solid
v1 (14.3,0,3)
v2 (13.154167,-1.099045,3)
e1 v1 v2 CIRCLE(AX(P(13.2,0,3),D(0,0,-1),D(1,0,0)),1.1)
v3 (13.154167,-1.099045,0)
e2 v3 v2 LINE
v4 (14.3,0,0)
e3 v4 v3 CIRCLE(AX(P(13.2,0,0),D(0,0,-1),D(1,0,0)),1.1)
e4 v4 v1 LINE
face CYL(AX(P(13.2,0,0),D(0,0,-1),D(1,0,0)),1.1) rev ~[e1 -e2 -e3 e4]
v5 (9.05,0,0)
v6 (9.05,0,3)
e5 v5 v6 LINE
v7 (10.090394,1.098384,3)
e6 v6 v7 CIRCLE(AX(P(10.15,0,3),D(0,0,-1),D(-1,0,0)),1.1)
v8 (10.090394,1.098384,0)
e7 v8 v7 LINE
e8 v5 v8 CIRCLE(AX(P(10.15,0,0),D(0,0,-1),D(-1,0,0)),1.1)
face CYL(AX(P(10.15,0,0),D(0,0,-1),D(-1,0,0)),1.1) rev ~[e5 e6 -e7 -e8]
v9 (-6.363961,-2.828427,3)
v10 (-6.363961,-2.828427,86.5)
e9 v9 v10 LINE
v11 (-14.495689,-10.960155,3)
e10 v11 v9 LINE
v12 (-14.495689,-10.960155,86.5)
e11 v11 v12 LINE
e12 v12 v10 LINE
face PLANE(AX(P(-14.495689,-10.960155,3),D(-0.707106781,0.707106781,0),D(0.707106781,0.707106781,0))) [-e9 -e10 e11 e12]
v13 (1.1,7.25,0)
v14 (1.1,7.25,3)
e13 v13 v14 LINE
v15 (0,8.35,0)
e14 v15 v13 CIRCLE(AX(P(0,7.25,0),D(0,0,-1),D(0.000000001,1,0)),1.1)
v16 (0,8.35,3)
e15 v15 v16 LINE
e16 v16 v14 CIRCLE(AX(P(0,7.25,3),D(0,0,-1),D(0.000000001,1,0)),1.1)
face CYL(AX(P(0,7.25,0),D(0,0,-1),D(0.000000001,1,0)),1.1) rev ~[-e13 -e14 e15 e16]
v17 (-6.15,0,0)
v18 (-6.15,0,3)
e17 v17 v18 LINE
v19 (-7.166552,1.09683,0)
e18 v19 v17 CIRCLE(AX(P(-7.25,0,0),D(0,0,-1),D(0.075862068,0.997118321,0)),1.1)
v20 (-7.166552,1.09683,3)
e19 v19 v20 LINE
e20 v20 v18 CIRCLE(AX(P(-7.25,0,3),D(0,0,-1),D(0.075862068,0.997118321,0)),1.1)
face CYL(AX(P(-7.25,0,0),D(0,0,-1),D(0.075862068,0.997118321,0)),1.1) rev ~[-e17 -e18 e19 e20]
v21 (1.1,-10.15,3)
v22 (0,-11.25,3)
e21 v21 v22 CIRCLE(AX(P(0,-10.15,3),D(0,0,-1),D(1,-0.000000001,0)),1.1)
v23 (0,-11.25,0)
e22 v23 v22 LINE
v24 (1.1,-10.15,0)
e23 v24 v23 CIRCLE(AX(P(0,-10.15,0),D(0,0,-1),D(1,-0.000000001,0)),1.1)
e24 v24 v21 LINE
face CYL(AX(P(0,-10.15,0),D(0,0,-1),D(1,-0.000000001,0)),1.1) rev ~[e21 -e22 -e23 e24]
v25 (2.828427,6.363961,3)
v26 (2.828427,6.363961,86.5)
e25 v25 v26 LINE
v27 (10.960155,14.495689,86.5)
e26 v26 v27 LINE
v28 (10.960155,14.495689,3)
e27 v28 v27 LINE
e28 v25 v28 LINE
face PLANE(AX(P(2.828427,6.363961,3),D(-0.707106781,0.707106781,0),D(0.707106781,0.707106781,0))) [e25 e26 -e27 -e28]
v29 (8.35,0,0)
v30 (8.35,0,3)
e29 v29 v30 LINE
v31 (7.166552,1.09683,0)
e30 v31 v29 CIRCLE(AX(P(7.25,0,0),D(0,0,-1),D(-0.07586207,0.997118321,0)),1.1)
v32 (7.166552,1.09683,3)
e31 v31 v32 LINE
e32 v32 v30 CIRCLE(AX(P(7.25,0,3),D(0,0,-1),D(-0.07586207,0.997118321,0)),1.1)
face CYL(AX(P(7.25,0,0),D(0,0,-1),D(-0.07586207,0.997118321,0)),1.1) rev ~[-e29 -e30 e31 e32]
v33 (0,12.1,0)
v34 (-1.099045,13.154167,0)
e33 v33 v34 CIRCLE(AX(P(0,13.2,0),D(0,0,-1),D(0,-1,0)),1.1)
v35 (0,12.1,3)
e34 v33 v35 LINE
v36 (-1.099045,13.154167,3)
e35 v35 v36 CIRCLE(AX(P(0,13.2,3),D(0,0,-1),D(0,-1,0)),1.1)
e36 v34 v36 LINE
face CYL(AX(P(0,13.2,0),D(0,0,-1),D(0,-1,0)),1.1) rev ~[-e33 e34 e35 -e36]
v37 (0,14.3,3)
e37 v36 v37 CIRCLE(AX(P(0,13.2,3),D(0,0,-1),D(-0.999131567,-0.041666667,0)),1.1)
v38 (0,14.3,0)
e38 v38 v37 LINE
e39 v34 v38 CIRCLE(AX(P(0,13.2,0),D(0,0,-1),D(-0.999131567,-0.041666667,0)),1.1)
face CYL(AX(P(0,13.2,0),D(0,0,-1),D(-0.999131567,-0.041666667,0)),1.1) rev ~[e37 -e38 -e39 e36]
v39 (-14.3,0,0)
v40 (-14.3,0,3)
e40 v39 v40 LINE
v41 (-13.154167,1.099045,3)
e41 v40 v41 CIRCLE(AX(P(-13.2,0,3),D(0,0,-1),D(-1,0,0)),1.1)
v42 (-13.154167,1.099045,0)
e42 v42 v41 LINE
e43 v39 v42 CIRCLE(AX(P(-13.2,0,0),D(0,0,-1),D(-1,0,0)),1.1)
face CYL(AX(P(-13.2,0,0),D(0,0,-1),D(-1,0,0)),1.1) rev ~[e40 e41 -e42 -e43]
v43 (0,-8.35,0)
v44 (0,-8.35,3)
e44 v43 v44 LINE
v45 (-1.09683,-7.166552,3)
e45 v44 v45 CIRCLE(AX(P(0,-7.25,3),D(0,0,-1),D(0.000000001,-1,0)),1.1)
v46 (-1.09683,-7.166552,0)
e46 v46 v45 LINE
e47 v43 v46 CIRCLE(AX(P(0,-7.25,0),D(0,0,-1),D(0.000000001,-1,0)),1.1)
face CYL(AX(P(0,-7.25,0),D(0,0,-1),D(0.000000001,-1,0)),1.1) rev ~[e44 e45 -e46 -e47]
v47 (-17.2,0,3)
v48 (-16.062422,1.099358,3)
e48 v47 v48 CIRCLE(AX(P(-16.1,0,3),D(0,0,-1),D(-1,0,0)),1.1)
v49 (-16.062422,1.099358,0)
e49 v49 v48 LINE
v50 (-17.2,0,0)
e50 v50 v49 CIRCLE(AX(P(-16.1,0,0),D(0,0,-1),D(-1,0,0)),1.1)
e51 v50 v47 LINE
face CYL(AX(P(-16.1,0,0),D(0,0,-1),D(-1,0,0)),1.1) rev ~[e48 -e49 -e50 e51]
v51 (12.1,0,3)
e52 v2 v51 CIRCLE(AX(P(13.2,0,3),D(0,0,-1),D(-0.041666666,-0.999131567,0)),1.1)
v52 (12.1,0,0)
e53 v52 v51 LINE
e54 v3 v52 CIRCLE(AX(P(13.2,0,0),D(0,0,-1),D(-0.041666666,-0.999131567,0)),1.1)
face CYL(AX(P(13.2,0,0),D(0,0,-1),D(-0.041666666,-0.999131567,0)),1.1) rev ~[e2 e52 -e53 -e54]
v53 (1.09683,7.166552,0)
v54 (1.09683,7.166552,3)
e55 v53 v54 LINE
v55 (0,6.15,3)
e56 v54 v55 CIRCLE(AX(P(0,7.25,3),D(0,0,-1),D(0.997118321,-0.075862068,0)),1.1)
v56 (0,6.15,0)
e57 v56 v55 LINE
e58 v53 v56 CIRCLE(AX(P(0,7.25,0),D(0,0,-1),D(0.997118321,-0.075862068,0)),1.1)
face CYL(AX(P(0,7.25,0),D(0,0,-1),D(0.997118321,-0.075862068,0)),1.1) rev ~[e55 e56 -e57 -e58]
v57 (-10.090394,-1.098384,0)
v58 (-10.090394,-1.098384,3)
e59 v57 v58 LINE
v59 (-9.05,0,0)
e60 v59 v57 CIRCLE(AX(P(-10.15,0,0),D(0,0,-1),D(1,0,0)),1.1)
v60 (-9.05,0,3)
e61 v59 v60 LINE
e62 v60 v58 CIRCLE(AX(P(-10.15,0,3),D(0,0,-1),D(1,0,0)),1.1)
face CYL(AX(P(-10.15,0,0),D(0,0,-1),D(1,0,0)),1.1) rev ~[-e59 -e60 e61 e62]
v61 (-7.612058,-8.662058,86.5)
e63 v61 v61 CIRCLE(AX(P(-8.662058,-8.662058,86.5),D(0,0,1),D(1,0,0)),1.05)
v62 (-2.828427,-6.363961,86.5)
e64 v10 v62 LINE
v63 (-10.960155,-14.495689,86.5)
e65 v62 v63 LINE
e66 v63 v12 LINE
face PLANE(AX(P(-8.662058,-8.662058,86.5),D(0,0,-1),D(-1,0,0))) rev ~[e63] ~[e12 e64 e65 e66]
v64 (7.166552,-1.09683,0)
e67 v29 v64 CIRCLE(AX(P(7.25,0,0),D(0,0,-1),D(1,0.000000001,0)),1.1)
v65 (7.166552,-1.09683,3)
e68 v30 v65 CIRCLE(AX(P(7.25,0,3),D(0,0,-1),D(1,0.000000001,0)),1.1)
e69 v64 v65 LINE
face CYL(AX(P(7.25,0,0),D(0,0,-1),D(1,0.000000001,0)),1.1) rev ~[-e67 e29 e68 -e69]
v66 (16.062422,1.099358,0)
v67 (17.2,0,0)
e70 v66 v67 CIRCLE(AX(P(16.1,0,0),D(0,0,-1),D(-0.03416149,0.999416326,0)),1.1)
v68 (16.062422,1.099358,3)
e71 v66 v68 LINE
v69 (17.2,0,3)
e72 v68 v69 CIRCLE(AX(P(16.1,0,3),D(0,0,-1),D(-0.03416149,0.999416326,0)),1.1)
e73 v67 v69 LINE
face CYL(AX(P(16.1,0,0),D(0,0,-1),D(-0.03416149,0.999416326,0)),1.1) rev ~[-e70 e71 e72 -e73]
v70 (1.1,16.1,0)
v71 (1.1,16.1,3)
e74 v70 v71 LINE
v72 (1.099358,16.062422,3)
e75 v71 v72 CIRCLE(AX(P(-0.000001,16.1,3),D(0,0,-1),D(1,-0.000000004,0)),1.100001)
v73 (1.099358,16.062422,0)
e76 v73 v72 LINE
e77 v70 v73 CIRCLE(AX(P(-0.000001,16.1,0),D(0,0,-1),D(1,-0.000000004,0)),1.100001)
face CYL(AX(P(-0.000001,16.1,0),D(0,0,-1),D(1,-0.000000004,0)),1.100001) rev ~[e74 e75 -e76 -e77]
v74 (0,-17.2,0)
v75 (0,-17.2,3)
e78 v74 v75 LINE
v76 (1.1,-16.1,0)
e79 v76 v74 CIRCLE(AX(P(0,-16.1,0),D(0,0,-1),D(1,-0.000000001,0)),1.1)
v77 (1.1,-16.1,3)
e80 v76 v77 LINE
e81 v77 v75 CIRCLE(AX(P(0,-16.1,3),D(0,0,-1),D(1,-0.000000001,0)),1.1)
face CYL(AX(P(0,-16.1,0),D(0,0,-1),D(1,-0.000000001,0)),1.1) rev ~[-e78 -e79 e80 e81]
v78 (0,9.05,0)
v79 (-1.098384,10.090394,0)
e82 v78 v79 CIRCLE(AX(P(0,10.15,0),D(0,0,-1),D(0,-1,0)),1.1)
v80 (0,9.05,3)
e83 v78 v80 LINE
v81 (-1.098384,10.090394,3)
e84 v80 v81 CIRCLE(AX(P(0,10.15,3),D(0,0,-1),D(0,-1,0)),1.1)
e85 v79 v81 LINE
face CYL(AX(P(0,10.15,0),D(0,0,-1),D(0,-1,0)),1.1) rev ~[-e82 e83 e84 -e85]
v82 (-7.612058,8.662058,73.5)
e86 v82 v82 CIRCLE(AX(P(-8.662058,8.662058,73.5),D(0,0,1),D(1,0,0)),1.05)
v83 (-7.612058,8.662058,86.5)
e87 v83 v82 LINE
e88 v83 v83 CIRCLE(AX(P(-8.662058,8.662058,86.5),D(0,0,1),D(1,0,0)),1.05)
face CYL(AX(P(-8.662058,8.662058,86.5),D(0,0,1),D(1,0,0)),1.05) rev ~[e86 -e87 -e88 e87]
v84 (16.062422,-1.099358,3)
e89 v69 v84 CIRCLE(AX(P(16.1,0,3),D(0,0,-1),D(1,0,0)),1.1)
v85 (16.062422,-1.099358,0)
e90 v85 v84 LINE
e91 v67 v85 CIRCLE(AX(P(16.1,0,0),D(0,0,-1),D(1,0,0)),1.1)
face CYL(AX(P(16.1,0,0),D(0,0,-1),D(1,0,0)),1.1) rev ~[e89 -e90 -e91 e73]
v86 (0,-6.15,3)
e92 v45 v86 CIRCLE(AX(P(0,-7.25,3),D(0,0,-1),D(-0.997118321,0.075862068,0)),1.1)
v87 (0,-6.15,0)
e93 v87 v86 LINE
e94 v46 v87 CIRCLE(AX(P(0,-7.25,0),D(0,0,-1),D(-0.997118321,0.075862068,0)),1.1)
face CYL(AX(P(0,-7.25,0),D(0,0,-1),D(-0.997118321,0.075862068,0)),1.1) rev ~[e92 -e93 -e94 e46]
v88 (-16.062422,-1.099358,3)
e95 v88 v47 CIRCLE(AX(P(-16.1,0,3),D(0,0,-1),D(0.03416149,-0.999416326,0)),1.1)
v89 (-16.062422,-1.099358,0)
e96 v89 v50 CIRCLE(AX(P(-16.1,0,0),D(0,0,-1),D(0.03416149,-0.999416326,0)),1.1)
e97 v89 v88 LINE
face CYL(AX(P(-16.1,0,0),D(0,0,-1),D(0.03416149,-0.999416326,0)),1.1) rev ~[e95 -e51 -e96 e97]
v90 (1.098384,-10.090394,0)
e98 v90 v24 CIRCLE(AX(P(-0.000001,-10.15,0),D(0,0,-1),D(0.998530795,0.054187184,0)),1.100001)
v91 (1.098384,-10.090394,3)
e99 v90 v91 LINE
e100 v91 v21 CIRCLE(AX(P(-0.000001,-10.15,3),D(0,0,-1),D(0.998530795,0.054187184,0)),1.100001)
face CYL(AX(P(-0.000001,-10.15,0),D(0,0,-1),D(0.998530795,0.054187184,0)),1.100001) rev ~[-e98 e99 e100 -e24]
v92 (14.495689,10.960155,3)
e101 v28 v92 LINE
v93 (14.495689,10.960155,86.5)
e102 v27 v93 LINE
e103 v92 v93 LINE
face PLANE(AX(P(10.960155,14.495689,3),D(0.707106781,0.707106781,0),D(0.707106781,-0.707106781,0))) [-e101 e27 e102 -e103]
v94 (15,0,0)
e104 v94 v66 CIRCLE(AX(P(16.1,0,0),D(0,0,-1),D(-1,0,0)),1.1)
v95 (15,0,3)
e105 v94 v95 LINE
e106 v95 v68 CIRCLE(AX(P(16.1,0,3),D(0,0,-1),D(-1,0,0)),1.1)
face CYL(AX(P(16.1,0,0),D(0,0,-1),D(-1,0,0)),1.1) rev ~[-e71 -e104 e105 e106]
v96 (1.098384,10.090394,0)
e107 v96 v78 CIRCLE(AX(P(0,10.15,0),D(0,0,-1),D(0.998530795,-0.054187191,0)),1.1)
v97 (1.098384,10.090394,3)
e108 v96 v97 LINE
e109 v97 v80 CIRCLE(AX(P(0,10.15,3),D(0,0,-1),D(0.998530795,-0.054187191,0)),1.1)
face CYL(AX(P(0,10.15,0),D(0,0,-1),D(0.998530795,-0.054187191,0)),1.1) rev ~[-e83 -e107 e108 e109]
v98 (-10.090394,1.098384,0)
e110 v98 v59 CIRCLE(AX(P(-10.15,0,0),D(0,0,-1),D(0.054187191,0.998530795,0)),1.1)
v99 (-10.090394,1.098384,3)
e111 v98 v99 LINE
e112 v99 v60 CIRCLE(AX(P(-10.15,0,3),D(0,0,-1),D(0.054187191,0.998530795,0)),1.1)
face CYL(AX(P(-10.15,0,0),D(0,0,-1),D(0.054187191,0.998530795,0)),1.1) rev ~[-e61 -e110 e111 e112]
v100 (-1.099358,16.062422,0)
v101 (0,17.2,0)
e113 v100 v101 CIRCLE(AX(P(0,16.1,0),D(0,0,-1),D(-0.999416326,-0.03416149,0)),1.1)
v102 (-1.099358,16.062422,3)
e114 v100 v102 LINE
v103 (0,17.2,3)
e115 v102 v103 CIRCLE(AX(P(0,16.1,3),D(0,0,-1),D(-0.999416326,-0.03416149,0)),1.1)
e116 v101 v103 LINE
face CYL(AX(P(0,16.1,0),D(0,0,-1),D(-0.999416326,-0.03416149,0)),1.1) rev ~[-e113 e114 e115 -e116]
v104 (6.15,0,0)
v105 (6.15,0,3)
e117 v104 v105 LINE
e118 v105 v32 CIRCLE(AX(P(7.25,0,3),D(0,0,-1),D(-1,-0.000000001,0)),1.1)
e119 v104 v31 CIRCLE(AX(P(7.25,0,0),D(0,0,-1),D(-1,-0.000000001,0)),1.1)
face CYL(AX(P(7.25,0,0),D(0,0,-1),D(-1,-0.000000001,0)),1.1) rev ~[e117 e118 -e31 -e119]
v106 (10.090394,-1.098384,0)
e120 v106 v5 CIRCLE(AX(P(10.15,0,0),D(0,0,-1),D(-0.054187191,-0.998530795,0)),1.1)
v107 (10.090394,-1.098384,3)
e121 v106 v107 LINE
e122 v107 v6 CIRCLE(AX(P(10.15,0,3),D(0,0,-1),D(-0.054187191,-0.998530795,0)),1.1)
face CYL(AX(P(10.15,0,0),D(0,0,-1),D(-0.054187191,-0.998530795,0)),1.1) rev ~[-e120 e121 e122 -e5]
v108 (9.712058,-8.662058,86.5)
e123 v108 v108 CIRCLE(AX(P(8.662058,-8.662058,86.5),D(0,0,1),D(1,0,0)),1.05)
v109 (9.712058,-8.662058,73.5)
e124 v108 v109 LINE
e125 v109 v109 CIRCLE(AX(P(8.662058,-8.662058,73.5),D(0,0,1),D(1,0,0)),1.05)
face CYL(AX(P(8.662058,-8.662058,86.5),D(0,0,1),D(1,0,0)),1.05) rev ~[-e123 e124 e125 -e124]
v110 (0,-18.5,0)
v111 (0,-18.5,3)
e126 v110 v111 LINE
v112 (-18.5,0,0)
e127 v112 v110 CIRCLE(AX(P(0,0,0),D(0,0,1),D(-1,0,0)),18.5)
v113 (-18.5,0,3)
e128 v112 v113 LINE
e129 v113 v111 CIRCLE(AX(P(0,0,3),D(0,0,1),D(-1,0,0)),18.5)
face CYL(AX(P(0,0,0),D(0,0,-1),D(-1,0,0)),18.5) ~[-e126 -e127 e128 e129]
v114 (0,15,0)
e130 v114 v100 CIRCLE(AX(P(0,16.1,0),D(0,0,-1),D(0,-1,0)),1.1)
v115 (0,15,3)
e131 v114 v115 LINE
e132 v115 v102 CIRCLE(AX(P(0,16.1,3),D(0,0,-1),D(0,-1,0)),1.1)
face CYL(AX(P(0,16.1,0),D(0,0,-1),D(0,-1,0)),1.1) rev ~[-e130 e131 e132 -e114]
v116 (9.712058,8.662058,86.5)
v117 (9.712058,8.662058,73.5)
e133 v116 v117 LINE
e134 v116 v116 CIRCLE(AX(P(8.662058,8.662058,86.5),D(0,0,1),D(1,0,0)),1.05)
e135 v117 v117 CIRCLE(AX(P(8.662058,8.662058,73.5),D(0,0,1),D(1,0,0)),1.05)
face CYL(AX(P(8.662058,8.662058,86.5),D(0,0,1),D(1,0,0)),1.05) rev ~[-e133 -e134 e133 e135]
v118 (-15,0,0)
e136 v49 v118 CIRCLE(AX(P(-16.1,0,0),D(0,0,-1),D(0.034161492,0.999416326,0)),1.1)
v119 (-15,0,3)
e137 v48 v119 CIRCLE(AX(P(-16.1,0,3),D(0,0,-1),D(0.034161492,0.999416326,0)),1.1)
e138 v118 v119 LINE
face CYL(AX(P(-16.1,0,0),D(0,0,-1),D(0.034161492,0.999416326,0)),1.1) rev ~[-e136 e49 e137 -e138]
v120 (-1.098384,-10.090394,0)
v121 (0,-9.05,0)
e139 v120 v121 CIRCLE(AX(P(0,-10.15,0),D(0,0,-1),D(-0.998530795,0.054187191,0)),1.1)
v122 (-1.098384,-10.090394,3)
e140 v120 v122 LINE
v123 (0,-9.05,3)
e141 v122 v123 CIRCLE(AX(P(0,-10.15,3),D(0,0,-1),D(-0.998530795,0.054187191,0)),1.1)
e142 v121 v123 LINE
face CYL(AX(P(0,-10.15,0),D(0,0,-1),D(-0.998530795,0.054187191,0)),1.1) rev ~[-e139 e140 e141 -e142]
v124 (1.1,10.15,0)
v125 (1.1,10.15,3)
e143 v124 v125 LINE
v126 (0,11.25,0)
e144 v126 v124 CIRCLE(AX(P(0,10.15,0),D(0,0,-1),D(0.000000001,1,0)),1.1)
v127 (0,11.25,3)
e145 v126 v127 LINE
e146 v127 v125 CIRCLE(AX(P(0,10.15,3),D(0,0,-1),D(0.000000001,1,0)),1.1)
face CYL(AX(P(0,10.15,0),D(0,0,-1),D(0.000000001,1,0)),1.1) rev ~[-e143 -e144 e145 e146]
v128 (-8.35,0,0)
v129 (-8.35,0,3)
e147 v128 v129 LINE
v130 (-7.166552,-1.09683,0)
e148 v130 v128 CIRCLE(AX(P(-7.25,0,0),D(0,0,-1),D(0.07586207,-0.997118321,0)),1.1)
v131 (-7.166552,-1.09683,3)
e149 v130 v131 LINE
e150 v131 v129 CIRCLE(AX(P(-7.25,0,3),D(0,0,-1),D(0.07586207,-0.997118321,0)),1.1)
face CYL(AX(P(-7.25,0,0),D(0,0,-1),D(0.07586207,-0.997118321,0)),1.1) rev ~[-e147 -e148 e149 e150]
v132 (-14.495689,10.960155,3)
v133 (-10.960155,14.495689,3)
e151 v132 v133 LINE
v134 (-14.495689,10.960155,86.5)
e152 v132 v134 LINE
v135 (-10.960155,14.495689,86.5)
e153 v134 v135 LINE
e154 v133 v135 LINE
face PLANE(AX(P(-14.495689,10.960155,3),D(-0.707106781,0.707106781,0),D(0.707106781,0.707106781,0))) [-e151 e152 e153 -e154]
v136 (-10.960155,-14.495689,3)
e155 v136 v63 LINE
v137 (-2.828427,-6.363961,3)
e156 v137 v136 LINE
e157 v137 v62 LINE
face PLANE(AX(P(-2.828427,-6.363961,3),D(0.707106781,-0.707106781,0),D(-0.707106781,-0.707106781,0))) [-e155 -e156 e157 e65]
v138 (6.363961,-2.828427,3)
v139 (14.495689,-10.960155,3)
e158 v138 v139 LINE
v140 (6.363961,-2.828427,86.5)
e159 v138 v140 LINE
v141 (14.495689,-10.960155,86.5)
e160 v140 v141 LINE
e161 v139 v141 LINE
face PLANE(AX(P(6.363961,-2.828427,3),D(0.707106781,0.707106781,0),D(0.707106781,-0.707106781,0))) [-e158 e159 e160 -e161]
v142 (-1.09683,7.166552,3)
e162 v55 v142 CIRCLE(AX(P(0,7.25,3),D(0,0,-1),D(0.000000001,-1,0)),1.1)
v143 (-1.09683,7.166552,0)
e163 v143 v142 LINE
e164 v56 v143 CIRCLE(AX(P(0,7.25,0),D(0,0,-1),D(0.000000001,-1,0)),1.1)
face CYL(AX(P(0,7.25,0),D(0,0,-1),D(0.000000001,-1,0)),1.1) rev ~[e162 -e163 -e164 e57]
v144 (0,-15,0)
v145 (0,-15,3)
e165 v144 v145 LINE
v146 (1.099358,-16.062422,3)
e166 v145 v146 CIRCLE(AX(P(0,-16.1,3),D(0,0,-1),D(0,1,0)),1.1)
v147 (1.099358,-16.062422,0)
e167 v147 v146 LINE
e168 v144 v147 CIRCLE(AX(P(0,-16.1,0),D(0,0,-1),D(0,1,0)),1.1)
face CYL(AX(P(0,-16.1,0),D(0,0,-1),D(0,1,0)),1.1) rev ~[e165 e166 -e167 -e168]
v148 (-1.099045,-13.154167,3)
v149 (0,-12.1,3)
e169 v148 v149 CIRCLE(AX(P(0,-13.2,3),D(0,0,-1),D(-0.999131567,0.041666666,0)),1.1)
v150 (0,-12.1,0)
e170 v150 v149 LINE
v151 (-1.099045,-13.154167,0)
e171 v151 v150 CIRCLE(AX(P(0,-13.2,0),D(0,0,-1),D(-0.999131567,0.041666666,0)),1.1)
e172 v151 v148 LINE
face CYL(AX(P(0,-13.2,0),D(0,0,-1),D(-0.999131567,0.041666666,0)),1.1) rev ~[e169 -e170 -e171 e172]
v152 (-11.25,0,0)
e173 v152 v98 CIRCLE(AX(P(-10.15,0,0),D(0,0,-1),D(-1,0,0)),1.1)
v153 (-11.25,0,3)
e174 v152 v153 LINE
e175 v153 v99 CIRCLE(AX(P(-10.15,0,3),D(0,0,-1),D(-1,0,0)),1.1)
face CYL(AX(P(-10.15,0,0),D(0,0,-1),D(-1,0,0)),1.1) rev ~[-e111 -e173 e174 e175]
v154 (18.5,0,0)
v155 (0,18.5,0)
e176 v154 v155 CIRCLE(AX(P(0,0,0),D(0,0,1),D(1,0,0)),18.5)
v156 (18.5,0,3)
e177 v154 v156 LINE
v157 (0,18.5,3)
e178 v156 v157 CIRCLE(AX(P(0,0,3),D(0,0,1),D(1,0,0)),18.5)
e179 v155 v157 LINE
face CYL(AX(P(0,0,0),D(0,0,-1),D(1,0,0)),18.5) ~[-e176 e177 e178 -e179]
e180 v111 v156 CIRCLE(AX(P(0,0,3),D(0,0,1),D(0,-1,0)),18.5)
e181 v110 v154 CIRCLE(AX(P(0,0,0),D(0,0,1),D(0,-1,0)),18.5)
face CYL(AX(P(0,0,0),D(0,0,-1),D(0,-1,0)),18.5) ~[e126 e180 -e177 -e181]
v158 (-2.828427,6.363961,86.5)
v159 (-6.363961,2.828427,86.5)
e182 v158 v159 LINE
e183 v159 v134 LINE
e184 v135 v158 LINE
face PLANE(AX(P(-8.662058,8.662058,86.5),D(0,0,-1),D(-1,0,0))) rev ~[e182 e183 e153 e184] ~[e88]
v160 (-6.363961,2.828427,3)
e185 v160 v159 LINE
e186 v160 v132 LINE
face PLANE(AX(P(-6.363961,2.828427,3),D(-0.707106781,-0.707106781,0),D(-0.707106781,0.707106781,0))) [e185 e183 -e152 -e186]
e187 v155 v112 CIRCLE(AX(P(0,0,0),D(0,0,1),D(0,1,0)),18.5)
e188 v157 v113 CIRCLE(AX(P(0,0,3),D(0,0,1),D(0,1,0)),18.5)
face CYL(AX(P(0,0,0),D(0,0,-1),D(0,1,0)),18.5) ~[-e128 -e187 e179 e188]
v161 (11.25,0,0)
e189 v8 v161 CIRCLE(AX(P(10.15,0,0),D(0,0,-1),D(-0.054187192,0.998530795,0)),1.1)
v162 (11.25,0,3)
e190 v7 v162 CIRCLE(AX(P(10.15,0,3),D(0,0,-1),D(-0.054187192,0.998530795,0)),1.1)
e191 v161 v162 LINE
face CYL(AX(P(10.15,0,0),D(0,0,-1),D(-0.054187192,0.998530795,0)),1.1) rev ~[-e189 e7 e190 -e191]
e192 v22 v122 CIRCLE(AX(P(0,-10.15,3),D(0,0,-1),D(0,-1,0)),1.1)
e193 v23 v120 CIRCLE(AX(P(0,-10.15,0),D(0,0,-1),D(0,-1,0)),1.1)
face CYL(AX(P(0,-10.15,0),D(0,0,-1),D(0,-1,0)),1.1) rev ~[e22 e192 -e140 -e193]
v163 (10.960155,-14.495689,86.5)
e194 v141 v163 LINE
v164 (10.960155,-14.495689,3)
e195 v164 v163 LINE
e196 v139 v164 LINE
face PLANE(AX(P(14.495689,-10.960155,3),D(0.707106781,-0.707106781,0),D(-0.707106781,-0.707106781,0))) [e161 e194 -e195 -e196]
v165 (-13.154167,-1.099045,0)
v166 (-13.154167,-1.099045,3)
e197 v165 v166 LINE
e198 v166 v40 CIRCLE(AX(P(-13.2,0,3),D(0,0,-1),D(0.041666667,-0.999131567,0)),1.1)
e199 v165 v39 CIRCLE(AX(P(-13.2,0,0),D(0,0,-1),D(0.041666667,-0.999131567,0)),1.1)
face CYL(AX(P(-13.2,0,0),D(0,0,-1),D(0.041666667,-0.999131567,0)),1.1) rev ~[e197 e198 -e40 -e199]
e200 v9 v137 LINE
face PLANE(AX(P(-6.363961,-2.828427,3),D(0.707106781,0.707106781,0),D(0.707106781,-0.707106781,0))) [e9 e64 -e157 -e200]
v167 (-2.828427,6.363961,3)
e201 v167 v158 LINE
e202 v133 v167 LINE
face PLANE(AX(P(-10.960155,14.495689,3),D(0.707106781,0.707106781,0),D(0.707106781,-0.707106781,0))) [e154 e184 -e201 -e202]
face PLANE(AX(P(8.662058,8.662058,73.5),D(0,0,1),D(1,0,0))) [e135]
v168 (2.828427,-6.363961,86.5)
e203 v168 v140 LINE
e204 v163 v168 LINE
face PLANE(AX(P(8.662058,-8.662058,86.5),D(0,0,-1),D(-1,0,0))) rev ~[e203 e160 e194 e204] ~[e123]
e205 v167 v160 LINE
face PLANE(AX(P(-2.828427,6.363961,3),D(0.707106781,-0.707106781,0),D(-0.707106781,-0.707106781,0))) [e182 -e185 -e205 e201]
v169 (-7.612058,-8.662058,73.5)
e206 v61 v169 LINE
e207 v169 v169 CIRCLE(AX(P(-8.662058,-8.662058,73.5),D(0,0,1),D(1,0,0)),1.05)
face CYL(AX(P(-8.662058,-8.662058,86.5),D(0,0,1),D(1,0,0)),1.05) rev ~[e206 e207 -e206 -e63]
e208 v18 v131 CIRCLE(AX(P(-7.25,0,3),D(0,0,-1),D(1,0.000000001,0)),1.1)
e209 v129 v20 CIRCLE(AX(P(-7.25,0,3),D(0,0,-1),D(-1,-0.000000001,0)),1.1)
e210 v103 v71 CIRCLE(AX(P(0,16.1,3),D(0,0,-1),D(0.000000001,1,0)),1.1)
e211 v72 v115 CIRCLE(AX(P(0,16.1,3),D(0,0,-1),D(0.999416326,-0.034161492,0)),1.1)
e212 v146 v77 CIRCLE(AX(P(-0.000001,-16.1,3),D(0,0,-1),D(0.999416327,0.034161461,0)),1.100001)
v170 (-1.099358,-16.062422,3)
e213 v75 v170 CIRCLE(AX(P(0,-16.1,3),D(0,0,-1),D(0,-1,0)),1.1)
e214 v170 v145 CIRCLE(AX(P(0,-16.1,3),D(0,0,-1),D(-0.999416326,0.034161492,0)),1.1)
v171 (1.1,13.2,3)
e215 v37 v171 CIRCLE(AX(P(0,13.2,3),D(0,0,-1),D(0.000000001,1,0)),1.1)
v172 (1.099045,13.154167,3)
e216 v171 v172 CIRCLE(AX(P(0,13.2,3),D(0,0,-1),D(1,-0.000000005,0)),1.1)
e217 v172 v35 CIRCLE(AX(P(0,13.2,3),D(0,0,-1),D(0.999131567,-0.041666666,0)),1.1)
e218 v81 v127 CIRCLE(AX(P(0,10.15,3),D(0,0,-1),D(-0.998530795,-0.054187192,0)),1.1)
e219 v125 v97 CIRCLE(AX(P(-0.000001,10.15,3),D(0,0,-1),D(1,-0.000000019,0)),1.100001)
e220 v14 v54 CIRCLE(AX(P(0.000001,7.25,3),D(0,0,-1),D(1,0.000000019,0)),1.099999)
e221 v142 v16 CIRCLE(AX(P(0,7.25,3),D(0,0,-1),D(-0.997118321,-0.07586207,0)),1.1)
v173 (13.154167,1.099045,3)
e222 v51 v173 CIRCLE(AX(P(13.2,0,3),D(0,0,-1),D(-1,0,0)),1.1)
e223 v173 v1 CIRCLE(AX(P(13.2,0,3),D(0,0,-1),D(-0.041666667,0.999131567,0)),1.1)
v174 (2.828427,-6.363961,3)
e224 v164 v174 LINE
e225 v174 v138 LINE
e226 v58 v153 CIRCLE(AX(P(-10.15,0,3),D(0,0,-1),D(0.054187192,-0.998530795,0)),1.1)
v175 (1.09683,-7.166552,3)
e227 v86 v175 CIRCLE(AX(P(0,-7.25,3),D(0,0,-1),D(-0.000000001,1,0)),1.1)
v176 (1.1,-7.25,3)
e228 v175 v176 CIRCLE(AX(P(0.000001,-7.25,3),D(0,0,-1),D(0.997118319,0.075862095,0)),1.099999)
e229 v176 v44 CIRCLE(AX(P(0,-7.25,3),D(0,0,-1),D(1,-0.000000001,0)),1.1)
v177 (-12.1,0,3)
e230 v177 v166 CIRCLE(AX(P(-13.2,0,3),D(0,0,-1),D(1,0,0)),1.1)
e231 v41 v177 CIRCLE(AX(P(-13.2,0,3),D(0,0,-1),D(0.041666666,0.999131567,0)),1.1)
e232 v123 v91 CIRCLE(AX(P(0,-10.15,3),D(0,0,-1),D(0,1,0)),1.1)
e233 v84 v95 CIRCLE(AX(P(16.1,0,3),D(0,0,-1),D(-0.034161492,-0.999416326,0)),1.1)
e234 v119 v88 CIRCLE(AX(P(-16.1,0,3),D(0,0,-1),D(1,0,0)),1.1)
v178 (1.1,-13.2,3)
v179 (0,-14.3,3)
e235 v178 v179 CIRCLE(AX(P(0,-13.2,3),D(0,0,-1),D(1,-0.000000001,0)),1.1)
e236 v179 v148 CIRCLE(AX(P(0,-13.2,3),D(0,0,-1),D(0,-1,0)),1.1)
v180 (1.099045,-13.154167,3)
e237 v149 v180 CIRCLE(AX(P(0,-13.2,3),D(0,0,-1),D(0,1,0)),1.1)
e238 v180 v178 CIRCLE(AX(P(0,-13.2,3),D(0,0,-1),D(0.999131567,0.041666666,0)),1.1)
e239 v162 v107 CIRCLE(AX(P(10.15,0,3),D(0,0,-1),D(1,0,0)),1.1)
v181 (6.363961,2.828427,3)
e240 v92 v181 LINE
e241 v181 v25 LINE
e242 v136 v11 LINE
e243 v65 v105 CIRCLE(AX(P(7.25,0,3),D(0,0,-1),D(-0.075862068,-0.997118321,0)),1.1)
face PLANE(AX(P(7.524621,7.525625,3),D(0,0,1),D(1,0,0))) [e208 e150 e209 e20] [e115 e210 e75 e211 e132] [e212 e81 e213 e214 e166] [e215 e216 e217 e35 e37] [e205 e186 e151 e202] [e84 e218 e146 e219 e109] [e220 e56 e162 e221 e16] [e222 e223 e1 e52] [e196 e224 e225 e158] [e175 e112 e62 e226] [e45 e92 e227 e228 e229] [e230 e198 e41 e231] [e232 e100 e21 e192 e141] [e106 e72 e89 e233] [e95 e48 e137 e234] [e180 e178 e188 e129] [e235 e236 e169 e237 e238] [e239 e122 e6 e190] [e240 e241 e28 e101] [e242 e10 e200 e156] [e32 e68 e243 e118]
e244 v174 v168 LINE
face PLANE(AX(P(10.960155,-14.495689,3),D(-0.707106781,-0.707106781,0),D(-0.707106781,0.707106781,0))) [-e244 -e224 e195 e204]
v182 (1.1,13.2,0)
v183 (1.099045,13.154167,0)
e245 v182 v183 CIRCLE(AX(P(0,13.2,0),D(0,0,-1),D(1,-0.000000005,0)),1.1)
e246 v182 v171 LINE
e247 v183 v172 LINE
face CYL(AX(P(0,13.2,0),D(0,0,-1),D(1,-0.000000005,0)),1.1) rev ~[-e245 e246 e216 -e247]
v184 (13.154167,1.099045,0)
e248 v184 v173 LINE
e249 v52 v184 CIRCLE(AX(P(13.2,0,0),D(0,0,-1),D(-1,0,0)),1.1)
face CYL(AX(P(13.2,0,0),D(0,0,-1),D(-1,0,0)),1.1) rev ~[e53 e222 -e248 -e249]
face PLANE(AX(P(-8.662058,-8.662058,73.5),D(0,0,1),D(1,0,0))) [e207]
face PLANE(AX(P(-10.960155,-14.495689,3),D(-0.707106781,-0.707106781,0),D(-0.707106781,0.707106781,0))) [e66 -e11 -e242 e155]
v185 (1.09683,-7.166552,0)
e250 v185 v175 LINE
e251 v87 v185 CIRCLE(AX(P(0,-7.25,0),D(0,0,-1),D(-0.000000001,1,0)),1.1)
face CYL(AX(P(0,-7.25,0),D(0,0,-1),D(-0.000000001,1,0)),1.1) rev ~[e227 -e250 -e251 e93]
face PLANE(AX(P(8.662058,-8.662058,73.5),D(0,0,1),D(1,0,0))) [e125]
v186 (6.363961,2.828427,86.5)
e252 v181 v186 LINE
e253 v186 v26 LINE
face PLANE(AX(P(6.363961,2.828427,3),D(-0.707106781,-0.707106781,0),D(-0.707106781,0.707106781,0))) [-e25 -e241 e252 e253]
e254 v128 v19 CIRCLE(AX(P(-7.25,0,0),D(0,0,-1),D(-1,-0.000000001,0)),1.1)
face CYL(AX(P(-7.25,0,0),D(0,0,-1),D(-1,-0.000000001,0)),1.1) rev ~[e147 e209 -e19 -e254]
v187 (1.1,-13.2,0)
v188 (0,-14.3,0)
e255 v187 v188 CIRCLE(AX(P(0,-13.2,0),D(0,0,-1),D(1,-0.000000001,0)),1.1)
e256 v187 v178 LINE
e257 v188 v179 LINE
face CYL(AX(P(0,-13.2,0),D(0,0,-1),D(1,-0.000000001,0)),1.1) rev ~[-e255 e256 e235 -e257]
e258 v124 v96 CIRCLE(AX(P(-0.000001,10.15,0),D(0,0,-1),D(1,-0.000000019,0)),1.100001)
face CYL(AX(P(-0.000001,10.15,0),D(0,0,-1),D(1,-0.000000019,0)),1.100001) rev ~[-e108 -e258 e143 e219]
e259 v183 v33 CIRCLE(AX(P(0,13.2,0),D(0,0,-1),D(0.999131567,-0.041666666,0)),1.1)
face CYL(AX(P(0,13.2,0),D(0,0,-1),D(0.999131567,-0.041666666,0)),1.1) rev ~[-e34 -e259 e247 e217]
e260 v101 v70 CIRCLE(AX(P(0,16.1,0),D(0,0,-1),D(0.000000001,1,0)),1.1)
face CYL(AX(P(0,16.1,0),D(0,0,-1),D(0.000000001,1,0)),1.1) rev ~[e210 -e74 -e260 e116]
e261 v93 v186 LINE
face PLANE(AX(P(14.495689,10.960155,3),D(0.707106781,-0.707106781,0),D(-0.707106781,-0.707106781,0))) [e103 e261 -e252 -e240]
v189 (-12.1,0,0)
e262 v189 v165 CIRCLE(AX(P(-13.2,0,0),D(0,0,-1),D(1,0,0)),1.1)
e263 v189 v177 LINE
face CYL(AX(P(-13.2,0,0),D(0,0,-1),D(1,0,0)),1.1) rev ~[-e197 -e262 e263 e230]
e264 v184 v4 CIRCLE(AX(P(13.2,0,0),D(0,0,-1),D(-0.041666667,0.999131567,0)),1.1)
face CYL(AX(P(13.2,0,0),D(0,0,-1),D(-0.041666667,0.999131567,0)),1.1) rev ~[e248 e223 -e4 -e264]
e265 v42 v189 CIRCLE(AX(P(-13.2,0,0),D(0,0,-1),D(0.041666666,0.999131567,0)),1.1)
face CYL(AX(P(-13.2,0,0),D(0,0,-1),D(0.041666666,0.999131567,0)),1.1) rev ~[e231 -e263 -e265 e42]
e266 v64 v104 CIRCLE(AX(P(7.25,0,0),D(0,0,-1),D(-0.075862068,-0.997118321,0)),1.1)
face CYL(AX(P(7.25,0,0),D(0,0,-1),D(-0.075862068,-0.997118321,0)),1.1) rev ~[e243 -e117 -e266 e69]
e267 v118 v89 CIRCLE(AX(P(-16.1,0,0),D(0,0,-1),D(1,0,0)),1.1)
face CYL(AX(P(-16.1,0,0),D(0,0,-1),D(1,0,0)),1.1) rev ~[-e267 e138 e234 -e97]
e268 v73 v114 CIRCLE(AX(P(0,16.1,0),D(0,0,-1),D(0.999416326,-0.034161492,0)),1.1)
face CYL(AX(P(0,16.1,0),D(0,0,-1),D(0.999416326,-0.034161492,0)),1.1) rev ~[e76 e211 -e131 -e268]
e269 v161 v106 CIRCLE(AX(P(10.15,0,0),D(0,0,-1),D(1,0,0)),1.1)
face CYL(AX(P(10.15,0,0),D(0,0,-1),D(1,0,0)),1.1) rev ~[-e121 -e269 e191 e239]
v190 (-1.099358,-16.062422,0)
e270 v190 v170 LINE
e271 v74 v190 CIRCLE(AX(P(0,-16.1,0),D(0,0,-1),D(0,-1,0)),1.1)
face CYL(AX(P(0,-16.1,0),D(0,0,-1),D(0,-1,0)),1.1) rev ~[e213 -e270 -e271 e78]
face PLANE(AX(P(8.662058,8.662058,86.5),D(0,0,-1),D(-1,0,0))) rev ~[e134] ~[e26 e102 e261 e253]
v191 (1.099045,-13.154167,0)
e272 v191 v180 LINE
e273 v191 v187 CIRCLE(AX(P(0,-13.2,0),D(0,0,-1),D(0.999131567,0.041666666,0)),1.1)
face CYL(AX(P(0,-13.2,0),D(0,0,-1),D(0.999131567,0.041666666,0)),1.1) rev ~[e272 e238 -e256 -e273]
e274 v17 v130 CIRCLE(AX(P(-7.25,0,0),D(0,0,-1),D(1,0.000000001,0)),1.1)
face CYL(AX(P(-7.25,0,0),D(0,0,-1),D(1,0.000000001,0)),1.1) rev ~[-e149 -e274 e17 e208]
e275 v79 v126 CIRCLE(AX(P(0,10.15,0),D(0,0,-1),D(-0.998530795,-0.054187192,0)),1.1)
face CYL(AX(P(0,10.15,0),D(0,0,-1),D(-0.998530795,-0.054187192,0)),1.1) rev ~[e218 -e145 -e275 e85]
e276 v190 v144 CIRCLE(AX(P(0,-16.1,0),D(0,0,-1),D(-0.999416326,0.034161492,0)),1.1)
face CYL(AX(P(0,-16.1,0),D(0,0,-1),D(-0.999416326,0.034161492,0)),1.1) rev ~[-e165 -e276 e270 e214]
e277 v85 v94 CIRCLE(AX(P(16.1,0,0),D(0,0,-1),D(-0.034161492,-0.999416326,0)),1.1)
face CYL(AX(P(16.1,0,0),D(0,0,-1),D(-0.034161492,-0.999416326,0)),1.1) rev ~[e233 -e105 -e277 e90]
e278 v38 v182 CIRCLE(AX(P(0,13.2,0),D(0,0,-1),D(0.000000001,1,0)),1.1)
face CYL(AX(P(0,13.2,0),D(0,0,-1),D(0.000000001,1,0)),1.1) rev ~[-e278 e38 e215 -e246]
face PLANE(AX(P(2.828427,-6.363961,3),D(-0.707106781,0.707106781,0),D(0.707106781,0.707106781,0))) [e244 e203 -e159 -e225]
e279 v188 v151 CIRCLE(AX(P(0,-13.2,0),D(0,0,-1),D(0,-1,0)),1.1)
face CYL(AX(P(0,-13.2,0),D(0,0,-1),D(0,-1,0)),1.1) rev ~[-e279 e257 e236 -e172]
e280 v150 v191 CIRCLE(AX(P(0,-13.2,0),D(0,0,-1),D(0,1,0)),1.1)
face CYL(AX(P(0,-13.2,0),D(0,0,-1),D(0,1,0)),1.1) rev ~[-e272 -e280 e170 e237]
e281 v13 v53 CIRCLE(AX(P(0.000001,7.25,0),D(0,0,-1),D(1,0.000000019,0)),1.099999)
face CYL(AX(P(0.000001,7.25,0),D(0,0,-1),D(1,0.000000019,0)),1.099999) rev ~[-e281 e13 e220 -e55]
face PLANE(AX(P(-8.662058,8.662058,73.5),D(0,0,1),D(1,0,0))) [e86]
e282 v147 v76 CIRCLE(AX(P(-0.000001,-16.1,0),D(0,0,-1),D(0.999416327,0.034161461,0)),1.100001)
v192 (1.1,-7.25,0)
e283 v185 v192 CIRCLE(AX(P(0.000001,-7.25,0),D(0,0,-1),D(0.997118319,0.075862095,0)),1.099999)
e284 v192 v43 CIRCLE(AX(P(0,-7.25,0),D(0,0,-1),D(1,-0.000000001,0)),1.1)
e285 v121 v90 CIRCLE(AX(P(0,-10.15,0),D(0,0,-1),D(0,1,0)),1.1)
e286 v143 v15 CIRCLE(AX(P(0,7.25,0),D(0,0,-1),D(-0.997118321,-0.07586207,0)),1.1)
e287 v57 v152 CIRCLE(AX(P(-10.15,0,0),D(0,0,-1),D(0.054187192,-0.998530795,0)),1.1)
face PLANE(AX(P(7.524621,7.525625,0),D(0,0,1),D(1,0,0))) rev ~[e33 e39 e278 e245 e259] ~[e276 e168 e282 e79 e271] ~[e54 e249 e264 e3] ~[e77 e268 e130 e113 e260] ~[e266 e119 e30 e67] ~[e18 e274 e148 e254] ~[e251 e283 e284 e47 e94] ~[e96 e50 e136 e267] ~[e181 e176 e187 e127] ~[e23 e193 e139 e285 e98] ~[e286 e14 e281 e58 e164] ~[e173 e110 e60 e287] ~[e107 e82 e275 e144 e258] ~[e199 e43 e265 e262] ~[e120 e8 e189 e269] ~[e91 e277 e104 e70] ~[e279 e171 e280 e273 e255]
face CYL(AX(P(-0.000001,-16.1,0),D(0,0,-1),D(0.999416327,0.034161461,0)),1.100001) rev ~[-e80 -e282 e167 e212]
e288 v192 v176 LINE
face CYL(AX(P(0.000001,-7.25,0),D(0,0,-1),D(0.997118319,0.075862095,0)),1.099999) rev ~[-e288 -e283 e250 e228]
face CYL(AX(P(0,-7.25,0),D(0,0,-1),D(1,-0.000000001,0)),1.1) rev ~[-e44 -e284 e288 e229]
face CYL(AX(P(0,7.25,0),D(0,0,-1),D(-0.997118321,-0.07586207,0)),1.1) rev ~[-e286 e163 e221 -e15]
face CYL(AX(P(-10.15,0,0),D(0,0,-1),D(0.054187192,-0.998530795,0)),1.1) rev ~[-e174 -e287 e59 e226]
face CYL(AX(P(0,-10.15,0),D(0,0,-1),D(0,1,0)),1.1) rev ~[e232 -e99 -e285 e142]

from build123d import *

# Parameters (mm, degrees)
AUFSATZ_LINEAR_AUSTRAGEN1_DEPTH = 3
AUFSATZ_LINEAR_AUSTRAGEN2_DEPTH = 83.5
SKIZZE5_R                       = 1.05
SCHNITT_LINEAR_AUSTRAGEN2_DEPTH = 13


with BuildPart() as part:
    # Skizze2 → Aufsatz-Linear austragen1 (new body)
    with BuildSketch(Plane.XY):
        with BuildLine():
            ThreePointArc((18.5, 0), (13.081475452, 13.081475452), (0, 18.5))
            Line((0, 18.5), (0, 17.2))
            ThreePointArc((0, 17.2), (0.777817459, 16.877817459), (1.1, 16.1))
            ThreePointArc((1.1, 16.1), (1.099839478, 16.081208438), (1.099357959, 16.06242236))
            ThreePointArc((1.099357959, 16.06242236), (0.764416312, 15.309008406), (0, 15))
            Line((0, 15), (0, 14.3))
            ThreePointArc((0, 14.3), (0.777817459, 13.977817459), (1.1, 13.2))
            ThreePointArc((1.1, 13.2), (1.099761155, 13.177078356), (1.099044724, 13.154166667))
            ThreePointArc((1.099044724, 13.154166667), (0.761440521, 12.40614338), (0, 12.1))
            Line((0, 12.1), (0, 11.25))
            ThreePointArc((0, 11.25), (0.777817459, 10.927817459), (1.1, 10.15))
            ThreePointArc((1.1, 10.15), (1.099595894, 10.120186092), (1.098383874, 10.090394089))
            ThreePointArc((1.098383874, 10.090394089), (0.756450097, 9.35138667), (0, 9.05))
            Line((0, 9.05), (0, 8.35))
            ThreePointArc((0, 8.35), (0.777817459, 8.027817459), (1.1, 7.25))
            ThreePointArc((1.1, 7.25), (1.099207253, 7.208245771), (1.096830153, 7.166551724))
            ThreePointArc((1.096830153, 7.166551724), (0.747732204, 6.443218399), (0, 6.15))
            Line((0, 6.15), (0, 0))
            Line((0, 0), (6.15, 0))
            ThreePointArc((6.15, 0), (6.443218399, 0.747732204), (7.166551724, 1.096830153))
            ThreePointArc((7.166551724, 1.096830153), (7.997732204, 0.806781601), (8.35, 0))
            Line((8.35, 0), (9.05, 0))
            ThreePointArc((9.05, 0), (9.35138667, 0.756450097), (10.090394089, 1.098383874))
            ThreePointArc((10.090394089, 1.098383874), (10.906450097, 0.79861333), (11.25, 0))
            Line((11.25, 0), (12.1, 0))
            ThreePointArc((12.1, 0), (12.40614338, 0.761440521), (13.154166667, 1.099044724))
            ThreePointArc((13.154166667, 1.099044724), (13.961440521, 0.79385662), (14.3, 0))
            Line((14.3, 0), (15, 0))
            ThreePointArc((15, 0), (15.309008406, 0.764416312), (16.06242236, 1.099357959))
            ThreePointArc((16.06242236, 1.099357959), (16.864416312, 0.790991594), (17.2, 0))
            Line((17.2, 0), (18.5, 0))
        make_face()
        with BuildLine():
            ThreePointArc((0, -18.5), (13.081475452, -13.081475452), (18.5, 0))
            Line((18.5, 0), (17.2, 0))
            ThreePointArc((17.2, 0), (16.864416312, -0.790991594), (16.06242236, -1.099357959))
            ThreePointArc((16.06242236, -1.099357959), (15.309008406, -0.764416312), (15, 0))
            Line((15, 0), (14.3, 0))
            ThreePointArc((14.3, 0), (13.961440521, -0.79385662), (13.154166667, -1.099044724))
            ThreePointArc((13.154166667, -1.099044724), (12.40614338, -0.761440521), (12.1, 0))
            Line((12.1, 0), (11.25, 0))
            ThreePointArc((11.25, 0), (10.906450097, -0.79861333), (10.090394089, -1.098383874))
            ThreePointArc((10.090394089, -1.098383874), (9.35138667, -0.756450097), (9.05, 0))
            Line((9.05, 0), (8.35, 0))
            ThreePointArc((8.35, 0), (7.997732204, -0.806781601), (7.166551724, -1.096830153))
            ThreePointArc((7.166551724, -1.096830153), (6.443218399, -0.747732204), (6.15, 0))
            Line((6.15, 0), (0, 0))
            Line((0, 0), (0, -6.15))
            ThreePointArc((0, -6.15), (0.747732204, -6.443218399), (1.096830153, -7.166551724))
            ThreePointArc((1.096830153, -7.166551724), (1.099207253, -7.208245771), (1.1, -7.25))
            ThreePointArc((1.1, -7.25), (0.777817459, -8.027817459), (0, -8.35))
            Line((0, -8.35), (0, -9.05))
            ThreePointArc((0, -9.05), (0.756450097, -9.35138667), (1.098383874, -10.090394089))
            ThreePointArc((1.098383874, -10.090394089), (1.099595894, -10.120186092), (1.1, -10.15))
            ThreePointArc((1.1, -10.15), (0.777817459, -10.927817459), (0, -11.25))
            Line((0, -11.25), (0, -12.1))
            ThreePointArc((0, -12.1), (0.761440521, -12.40614338), (1.099044724, -13.154166667))
            ThreePointArc((1.099044724, -13.154166667), (1.099761155, -13.177078356), (1.1, -13.2))
            ThreePointArc((1.1, -13.2), (0.777817459, -13.977817459), (0, -14.3))
            Line((0, -14.3), (0, -15))
            ThreePointArc((0, -15), (0.764416312, -15.309008406), (1.099357959, -16.06242236))
            ThreePointArc((1.099357959, -16.06242236), (1.099839478, -16.081208438), (1.1, -16.1))
            ThreePointArc((1.1, -16.1), (0.777817459, -16.877817459), (0, -17.2))
            Line((0, -17.2), (0, -18.5))
        make_face()
        with BuildLine():
            Line((-17.2, 0), (-18.5, 0))
            ThreePointArc((-18.5, 0), (-13.081475452, -13.081475452), (0, -18.5))
            Line((0, -18.5), (0, -17.2))
            ThreePointArc((0, -17.2), (-0.790991594, -16.864416312), (-1.099357959, -16.06242236))
            ThreePointArc((-1.099357959, -16.06242236), (-0.764416312, -15.309008406), (0, -15))
            Line((0, -15), (0, -14.3))
            ThreePointArc((0, -14.3), (-0.79385662, -13.961440521), (-1.099044724, -13.154166667))
            ThreePointArc((-1.099044724, -13.154166667), (-0.761440521, -12.40614338), (0, -12.1))
            Line((0, -12.1), (0, -11.25))
            ThreePointArc((0, -11.25), (-0.79861333, -10.906450097), (-1.098383874, -10.090394089))
            ThreePointArc((-1.098383874, -10.090394089), (-0.756450097, -9.35138667), (0, -9.05))
            Line((0, -9.05), (0, -8.35))
            ThreePointArc((0, -8.35), (-0.806781601, -7.997732204), (-1.096830153, -7.166551724))
            ThreePointArc((-1.096830153, -7.166551724), (-0.747732204, -6.443218399), (0, -6.15))
            Line((0, -6.15), (0, 0))
            Line((0, 0), (-6.15, 0))
            ThreePointArc((-6.15, 0), (-6.443218399, -0.747732204), (-7.166551724, -1.096830153))
            ThreePointArc((-7.166551724, -1.096830153), (-7.997732204, -0.806781601), (-8.35, 0))
            Line((-8.35, 0), (-9.05, 0))
            ThreePointArc((-9.05, 0), (-9.35138667, -0.756450097), (-10.090394089, -1.098383874))
            ThreePointArc((-10.090394089, -1.098383874), (-10.906450097, -0.79861333), (-11.25, 0))
            Line((-11.25, 0), (-12.1, 0))
            ThreePointArc((-12.1, 0), (-12.40614338, -0.761440521), (-13.154166667, -1.099044724))
            ThreePointArc((-13.154166667, -1.099044724), (-13.961440521, -0.79385662), (-14.3, 0))
            Line((-14.3, 0), (-15, 0))
            ThreePointArc((-15, 0), (-15.309008406, -0.764416312), (-16.06242236, -1.099357959))
            ThreePointArc((-16.06242236, -1.099357959), (-16.864416312, -0.790991594), (-17.2, 0))
        make_face()
        with BuildLine():
            Line((0, 17.2), (0, 18.5))
            ThreePointArc((0, 18.5), (-13.081475452, 13.081475452), (-18.5, 0))
            Line((-18.5, 0), (-17.2, 0))
            ThreePointArc((-17.2, 0), (-16.864416312, 0.790991594), (-16.06242236, 1.099357959))
            ThreePointArc((-16.06242236, 1.099357959), (-15.309008406, 0.764416312), (-15, 0))
            Line((-15, 0), (-14.3, 0))
            ThreePointArc((-14.3, 0), (-13.961440521, 0.79385662), (-13.154166667, 1.099044724))
            ThreePointArc((-13.154166667, 1.099044724), (-12.40614338, 0.761440521), (-12.1, 0))
            Line((-12.1, 0), (-11.25, 0))
            ThreePointArc((-11.25, 0), (-10.906450097, 0.79861333), (-10.090394089, 1.098383874))
            ThreePointArc((-10.090394089, 1.098383874), (-9.35138667, 0.756450097), (-9.05, 0))
            Line((-9.05, 0), (-8.35, 0))
            ThreePointArc((-8.35, 0), (-7.997732204, 0.806781601), (-7.166551724, 1.096830153))
            ThreePointArc((-7.166551724, 1.096830153), (-6.443218399, 0.747732204), (-6.15, 0))
            Line((-6.15, 0), (0, 0))
            Line((0, 0), (0, 6.15))
            ThreePointArc((0, 6.15), (-0.747732204, 6.443218399), (-1.096830153, 7.166551724))
            ThreePointArc((-1.096830153, 7.166551724), (-0.806781601, 7.997732204), (0, 8.35))
            Line((0, 8.35), (0, 9.05))
            ThreePointArc((0, 9.05), (-0.756450097, 9.35138667), (-1.098383874, 10.090394089))
            ThreePointArc((-1.098383874, 10.090394089), (-0.79861333, 10.906450097), (0, 11.25))
            Line((0, 11.25), (0, 12.1))
            ThreePointArc((0, 12.1), (-0.761440521, 12.40614338), (-1.099044724, 13.154166667))
            ThreePointArc((-1.099044724, 13.154166667), (-0.79385662, 13.961440521), (0, 14.3))
            Line((0, 14.3), (0, 15))
            ThreePointArc((0, 15), (-0.764416312, 15.309008406), (-1.099357959, 16.06242236))
            ThreePointArc((-1.099357959, 16.06242236), (-0.790991594, 16.864416312), (0, 17.2))
        make_face()
    extrude(amount=AUFSATZ_LINEAR_AUSTRAGEN1_DEPTH)

    # Skizze4 → Aufsatz-Linear austragen2 (add)
    with BuildSketch(Plane.XY.offset(3)):
        Polygon((2.828427125, 6.363961031), (10.960155108, 14.495689014), (14.495689014, 10.960155108), (6.363961031, 2.828427125), align=None)
        Polygon((6.363961031, -2.828427125), (14.495689014, -10.960155108), (10.960155108, -14.495689014), (2.828427125, -6.363961031), align=None)
        Polygon((-2.828427125, -6.363961031), (-10.960155108, -14.495689014), (-14.495689014, -10.960155108), (-6.363961031, -2.828427125), align=None)
        Polygon((-6.363961031, 2.828427125), (-14.495689014, 10.960155108), (-10.960155108, 14.495689014), (-2.828427125, 6.363961031), align=None)
    extrude(amount=AUFSATZ_LINEAR_AUSTRAGEN2_DEPTH)

    # Skizze5 → Schnitt-Linear austragen2 (cut)
    with BuildSketch(Plane.XY.offset(86.5)):
        with Locations((-8.66205807, -8.66205807)):
            Circle(SKIZZE5_R)
        with Locations((-8.66205807, 8.66205807)):
            Circle(SKIZZE5_R)
        with Locations((8.66205807, 8.66205807)):
            Circle(SKIZZE5_R)
        with Locations((8.66205807, -8.66205807)):
            Circle(SKIZZE5_R)
    extrude(amount=-SCHNITT_LINEAR_AUSTRAGEN2_DEPTH, mode=Mode.SUBTRACT)


solid = part.part
